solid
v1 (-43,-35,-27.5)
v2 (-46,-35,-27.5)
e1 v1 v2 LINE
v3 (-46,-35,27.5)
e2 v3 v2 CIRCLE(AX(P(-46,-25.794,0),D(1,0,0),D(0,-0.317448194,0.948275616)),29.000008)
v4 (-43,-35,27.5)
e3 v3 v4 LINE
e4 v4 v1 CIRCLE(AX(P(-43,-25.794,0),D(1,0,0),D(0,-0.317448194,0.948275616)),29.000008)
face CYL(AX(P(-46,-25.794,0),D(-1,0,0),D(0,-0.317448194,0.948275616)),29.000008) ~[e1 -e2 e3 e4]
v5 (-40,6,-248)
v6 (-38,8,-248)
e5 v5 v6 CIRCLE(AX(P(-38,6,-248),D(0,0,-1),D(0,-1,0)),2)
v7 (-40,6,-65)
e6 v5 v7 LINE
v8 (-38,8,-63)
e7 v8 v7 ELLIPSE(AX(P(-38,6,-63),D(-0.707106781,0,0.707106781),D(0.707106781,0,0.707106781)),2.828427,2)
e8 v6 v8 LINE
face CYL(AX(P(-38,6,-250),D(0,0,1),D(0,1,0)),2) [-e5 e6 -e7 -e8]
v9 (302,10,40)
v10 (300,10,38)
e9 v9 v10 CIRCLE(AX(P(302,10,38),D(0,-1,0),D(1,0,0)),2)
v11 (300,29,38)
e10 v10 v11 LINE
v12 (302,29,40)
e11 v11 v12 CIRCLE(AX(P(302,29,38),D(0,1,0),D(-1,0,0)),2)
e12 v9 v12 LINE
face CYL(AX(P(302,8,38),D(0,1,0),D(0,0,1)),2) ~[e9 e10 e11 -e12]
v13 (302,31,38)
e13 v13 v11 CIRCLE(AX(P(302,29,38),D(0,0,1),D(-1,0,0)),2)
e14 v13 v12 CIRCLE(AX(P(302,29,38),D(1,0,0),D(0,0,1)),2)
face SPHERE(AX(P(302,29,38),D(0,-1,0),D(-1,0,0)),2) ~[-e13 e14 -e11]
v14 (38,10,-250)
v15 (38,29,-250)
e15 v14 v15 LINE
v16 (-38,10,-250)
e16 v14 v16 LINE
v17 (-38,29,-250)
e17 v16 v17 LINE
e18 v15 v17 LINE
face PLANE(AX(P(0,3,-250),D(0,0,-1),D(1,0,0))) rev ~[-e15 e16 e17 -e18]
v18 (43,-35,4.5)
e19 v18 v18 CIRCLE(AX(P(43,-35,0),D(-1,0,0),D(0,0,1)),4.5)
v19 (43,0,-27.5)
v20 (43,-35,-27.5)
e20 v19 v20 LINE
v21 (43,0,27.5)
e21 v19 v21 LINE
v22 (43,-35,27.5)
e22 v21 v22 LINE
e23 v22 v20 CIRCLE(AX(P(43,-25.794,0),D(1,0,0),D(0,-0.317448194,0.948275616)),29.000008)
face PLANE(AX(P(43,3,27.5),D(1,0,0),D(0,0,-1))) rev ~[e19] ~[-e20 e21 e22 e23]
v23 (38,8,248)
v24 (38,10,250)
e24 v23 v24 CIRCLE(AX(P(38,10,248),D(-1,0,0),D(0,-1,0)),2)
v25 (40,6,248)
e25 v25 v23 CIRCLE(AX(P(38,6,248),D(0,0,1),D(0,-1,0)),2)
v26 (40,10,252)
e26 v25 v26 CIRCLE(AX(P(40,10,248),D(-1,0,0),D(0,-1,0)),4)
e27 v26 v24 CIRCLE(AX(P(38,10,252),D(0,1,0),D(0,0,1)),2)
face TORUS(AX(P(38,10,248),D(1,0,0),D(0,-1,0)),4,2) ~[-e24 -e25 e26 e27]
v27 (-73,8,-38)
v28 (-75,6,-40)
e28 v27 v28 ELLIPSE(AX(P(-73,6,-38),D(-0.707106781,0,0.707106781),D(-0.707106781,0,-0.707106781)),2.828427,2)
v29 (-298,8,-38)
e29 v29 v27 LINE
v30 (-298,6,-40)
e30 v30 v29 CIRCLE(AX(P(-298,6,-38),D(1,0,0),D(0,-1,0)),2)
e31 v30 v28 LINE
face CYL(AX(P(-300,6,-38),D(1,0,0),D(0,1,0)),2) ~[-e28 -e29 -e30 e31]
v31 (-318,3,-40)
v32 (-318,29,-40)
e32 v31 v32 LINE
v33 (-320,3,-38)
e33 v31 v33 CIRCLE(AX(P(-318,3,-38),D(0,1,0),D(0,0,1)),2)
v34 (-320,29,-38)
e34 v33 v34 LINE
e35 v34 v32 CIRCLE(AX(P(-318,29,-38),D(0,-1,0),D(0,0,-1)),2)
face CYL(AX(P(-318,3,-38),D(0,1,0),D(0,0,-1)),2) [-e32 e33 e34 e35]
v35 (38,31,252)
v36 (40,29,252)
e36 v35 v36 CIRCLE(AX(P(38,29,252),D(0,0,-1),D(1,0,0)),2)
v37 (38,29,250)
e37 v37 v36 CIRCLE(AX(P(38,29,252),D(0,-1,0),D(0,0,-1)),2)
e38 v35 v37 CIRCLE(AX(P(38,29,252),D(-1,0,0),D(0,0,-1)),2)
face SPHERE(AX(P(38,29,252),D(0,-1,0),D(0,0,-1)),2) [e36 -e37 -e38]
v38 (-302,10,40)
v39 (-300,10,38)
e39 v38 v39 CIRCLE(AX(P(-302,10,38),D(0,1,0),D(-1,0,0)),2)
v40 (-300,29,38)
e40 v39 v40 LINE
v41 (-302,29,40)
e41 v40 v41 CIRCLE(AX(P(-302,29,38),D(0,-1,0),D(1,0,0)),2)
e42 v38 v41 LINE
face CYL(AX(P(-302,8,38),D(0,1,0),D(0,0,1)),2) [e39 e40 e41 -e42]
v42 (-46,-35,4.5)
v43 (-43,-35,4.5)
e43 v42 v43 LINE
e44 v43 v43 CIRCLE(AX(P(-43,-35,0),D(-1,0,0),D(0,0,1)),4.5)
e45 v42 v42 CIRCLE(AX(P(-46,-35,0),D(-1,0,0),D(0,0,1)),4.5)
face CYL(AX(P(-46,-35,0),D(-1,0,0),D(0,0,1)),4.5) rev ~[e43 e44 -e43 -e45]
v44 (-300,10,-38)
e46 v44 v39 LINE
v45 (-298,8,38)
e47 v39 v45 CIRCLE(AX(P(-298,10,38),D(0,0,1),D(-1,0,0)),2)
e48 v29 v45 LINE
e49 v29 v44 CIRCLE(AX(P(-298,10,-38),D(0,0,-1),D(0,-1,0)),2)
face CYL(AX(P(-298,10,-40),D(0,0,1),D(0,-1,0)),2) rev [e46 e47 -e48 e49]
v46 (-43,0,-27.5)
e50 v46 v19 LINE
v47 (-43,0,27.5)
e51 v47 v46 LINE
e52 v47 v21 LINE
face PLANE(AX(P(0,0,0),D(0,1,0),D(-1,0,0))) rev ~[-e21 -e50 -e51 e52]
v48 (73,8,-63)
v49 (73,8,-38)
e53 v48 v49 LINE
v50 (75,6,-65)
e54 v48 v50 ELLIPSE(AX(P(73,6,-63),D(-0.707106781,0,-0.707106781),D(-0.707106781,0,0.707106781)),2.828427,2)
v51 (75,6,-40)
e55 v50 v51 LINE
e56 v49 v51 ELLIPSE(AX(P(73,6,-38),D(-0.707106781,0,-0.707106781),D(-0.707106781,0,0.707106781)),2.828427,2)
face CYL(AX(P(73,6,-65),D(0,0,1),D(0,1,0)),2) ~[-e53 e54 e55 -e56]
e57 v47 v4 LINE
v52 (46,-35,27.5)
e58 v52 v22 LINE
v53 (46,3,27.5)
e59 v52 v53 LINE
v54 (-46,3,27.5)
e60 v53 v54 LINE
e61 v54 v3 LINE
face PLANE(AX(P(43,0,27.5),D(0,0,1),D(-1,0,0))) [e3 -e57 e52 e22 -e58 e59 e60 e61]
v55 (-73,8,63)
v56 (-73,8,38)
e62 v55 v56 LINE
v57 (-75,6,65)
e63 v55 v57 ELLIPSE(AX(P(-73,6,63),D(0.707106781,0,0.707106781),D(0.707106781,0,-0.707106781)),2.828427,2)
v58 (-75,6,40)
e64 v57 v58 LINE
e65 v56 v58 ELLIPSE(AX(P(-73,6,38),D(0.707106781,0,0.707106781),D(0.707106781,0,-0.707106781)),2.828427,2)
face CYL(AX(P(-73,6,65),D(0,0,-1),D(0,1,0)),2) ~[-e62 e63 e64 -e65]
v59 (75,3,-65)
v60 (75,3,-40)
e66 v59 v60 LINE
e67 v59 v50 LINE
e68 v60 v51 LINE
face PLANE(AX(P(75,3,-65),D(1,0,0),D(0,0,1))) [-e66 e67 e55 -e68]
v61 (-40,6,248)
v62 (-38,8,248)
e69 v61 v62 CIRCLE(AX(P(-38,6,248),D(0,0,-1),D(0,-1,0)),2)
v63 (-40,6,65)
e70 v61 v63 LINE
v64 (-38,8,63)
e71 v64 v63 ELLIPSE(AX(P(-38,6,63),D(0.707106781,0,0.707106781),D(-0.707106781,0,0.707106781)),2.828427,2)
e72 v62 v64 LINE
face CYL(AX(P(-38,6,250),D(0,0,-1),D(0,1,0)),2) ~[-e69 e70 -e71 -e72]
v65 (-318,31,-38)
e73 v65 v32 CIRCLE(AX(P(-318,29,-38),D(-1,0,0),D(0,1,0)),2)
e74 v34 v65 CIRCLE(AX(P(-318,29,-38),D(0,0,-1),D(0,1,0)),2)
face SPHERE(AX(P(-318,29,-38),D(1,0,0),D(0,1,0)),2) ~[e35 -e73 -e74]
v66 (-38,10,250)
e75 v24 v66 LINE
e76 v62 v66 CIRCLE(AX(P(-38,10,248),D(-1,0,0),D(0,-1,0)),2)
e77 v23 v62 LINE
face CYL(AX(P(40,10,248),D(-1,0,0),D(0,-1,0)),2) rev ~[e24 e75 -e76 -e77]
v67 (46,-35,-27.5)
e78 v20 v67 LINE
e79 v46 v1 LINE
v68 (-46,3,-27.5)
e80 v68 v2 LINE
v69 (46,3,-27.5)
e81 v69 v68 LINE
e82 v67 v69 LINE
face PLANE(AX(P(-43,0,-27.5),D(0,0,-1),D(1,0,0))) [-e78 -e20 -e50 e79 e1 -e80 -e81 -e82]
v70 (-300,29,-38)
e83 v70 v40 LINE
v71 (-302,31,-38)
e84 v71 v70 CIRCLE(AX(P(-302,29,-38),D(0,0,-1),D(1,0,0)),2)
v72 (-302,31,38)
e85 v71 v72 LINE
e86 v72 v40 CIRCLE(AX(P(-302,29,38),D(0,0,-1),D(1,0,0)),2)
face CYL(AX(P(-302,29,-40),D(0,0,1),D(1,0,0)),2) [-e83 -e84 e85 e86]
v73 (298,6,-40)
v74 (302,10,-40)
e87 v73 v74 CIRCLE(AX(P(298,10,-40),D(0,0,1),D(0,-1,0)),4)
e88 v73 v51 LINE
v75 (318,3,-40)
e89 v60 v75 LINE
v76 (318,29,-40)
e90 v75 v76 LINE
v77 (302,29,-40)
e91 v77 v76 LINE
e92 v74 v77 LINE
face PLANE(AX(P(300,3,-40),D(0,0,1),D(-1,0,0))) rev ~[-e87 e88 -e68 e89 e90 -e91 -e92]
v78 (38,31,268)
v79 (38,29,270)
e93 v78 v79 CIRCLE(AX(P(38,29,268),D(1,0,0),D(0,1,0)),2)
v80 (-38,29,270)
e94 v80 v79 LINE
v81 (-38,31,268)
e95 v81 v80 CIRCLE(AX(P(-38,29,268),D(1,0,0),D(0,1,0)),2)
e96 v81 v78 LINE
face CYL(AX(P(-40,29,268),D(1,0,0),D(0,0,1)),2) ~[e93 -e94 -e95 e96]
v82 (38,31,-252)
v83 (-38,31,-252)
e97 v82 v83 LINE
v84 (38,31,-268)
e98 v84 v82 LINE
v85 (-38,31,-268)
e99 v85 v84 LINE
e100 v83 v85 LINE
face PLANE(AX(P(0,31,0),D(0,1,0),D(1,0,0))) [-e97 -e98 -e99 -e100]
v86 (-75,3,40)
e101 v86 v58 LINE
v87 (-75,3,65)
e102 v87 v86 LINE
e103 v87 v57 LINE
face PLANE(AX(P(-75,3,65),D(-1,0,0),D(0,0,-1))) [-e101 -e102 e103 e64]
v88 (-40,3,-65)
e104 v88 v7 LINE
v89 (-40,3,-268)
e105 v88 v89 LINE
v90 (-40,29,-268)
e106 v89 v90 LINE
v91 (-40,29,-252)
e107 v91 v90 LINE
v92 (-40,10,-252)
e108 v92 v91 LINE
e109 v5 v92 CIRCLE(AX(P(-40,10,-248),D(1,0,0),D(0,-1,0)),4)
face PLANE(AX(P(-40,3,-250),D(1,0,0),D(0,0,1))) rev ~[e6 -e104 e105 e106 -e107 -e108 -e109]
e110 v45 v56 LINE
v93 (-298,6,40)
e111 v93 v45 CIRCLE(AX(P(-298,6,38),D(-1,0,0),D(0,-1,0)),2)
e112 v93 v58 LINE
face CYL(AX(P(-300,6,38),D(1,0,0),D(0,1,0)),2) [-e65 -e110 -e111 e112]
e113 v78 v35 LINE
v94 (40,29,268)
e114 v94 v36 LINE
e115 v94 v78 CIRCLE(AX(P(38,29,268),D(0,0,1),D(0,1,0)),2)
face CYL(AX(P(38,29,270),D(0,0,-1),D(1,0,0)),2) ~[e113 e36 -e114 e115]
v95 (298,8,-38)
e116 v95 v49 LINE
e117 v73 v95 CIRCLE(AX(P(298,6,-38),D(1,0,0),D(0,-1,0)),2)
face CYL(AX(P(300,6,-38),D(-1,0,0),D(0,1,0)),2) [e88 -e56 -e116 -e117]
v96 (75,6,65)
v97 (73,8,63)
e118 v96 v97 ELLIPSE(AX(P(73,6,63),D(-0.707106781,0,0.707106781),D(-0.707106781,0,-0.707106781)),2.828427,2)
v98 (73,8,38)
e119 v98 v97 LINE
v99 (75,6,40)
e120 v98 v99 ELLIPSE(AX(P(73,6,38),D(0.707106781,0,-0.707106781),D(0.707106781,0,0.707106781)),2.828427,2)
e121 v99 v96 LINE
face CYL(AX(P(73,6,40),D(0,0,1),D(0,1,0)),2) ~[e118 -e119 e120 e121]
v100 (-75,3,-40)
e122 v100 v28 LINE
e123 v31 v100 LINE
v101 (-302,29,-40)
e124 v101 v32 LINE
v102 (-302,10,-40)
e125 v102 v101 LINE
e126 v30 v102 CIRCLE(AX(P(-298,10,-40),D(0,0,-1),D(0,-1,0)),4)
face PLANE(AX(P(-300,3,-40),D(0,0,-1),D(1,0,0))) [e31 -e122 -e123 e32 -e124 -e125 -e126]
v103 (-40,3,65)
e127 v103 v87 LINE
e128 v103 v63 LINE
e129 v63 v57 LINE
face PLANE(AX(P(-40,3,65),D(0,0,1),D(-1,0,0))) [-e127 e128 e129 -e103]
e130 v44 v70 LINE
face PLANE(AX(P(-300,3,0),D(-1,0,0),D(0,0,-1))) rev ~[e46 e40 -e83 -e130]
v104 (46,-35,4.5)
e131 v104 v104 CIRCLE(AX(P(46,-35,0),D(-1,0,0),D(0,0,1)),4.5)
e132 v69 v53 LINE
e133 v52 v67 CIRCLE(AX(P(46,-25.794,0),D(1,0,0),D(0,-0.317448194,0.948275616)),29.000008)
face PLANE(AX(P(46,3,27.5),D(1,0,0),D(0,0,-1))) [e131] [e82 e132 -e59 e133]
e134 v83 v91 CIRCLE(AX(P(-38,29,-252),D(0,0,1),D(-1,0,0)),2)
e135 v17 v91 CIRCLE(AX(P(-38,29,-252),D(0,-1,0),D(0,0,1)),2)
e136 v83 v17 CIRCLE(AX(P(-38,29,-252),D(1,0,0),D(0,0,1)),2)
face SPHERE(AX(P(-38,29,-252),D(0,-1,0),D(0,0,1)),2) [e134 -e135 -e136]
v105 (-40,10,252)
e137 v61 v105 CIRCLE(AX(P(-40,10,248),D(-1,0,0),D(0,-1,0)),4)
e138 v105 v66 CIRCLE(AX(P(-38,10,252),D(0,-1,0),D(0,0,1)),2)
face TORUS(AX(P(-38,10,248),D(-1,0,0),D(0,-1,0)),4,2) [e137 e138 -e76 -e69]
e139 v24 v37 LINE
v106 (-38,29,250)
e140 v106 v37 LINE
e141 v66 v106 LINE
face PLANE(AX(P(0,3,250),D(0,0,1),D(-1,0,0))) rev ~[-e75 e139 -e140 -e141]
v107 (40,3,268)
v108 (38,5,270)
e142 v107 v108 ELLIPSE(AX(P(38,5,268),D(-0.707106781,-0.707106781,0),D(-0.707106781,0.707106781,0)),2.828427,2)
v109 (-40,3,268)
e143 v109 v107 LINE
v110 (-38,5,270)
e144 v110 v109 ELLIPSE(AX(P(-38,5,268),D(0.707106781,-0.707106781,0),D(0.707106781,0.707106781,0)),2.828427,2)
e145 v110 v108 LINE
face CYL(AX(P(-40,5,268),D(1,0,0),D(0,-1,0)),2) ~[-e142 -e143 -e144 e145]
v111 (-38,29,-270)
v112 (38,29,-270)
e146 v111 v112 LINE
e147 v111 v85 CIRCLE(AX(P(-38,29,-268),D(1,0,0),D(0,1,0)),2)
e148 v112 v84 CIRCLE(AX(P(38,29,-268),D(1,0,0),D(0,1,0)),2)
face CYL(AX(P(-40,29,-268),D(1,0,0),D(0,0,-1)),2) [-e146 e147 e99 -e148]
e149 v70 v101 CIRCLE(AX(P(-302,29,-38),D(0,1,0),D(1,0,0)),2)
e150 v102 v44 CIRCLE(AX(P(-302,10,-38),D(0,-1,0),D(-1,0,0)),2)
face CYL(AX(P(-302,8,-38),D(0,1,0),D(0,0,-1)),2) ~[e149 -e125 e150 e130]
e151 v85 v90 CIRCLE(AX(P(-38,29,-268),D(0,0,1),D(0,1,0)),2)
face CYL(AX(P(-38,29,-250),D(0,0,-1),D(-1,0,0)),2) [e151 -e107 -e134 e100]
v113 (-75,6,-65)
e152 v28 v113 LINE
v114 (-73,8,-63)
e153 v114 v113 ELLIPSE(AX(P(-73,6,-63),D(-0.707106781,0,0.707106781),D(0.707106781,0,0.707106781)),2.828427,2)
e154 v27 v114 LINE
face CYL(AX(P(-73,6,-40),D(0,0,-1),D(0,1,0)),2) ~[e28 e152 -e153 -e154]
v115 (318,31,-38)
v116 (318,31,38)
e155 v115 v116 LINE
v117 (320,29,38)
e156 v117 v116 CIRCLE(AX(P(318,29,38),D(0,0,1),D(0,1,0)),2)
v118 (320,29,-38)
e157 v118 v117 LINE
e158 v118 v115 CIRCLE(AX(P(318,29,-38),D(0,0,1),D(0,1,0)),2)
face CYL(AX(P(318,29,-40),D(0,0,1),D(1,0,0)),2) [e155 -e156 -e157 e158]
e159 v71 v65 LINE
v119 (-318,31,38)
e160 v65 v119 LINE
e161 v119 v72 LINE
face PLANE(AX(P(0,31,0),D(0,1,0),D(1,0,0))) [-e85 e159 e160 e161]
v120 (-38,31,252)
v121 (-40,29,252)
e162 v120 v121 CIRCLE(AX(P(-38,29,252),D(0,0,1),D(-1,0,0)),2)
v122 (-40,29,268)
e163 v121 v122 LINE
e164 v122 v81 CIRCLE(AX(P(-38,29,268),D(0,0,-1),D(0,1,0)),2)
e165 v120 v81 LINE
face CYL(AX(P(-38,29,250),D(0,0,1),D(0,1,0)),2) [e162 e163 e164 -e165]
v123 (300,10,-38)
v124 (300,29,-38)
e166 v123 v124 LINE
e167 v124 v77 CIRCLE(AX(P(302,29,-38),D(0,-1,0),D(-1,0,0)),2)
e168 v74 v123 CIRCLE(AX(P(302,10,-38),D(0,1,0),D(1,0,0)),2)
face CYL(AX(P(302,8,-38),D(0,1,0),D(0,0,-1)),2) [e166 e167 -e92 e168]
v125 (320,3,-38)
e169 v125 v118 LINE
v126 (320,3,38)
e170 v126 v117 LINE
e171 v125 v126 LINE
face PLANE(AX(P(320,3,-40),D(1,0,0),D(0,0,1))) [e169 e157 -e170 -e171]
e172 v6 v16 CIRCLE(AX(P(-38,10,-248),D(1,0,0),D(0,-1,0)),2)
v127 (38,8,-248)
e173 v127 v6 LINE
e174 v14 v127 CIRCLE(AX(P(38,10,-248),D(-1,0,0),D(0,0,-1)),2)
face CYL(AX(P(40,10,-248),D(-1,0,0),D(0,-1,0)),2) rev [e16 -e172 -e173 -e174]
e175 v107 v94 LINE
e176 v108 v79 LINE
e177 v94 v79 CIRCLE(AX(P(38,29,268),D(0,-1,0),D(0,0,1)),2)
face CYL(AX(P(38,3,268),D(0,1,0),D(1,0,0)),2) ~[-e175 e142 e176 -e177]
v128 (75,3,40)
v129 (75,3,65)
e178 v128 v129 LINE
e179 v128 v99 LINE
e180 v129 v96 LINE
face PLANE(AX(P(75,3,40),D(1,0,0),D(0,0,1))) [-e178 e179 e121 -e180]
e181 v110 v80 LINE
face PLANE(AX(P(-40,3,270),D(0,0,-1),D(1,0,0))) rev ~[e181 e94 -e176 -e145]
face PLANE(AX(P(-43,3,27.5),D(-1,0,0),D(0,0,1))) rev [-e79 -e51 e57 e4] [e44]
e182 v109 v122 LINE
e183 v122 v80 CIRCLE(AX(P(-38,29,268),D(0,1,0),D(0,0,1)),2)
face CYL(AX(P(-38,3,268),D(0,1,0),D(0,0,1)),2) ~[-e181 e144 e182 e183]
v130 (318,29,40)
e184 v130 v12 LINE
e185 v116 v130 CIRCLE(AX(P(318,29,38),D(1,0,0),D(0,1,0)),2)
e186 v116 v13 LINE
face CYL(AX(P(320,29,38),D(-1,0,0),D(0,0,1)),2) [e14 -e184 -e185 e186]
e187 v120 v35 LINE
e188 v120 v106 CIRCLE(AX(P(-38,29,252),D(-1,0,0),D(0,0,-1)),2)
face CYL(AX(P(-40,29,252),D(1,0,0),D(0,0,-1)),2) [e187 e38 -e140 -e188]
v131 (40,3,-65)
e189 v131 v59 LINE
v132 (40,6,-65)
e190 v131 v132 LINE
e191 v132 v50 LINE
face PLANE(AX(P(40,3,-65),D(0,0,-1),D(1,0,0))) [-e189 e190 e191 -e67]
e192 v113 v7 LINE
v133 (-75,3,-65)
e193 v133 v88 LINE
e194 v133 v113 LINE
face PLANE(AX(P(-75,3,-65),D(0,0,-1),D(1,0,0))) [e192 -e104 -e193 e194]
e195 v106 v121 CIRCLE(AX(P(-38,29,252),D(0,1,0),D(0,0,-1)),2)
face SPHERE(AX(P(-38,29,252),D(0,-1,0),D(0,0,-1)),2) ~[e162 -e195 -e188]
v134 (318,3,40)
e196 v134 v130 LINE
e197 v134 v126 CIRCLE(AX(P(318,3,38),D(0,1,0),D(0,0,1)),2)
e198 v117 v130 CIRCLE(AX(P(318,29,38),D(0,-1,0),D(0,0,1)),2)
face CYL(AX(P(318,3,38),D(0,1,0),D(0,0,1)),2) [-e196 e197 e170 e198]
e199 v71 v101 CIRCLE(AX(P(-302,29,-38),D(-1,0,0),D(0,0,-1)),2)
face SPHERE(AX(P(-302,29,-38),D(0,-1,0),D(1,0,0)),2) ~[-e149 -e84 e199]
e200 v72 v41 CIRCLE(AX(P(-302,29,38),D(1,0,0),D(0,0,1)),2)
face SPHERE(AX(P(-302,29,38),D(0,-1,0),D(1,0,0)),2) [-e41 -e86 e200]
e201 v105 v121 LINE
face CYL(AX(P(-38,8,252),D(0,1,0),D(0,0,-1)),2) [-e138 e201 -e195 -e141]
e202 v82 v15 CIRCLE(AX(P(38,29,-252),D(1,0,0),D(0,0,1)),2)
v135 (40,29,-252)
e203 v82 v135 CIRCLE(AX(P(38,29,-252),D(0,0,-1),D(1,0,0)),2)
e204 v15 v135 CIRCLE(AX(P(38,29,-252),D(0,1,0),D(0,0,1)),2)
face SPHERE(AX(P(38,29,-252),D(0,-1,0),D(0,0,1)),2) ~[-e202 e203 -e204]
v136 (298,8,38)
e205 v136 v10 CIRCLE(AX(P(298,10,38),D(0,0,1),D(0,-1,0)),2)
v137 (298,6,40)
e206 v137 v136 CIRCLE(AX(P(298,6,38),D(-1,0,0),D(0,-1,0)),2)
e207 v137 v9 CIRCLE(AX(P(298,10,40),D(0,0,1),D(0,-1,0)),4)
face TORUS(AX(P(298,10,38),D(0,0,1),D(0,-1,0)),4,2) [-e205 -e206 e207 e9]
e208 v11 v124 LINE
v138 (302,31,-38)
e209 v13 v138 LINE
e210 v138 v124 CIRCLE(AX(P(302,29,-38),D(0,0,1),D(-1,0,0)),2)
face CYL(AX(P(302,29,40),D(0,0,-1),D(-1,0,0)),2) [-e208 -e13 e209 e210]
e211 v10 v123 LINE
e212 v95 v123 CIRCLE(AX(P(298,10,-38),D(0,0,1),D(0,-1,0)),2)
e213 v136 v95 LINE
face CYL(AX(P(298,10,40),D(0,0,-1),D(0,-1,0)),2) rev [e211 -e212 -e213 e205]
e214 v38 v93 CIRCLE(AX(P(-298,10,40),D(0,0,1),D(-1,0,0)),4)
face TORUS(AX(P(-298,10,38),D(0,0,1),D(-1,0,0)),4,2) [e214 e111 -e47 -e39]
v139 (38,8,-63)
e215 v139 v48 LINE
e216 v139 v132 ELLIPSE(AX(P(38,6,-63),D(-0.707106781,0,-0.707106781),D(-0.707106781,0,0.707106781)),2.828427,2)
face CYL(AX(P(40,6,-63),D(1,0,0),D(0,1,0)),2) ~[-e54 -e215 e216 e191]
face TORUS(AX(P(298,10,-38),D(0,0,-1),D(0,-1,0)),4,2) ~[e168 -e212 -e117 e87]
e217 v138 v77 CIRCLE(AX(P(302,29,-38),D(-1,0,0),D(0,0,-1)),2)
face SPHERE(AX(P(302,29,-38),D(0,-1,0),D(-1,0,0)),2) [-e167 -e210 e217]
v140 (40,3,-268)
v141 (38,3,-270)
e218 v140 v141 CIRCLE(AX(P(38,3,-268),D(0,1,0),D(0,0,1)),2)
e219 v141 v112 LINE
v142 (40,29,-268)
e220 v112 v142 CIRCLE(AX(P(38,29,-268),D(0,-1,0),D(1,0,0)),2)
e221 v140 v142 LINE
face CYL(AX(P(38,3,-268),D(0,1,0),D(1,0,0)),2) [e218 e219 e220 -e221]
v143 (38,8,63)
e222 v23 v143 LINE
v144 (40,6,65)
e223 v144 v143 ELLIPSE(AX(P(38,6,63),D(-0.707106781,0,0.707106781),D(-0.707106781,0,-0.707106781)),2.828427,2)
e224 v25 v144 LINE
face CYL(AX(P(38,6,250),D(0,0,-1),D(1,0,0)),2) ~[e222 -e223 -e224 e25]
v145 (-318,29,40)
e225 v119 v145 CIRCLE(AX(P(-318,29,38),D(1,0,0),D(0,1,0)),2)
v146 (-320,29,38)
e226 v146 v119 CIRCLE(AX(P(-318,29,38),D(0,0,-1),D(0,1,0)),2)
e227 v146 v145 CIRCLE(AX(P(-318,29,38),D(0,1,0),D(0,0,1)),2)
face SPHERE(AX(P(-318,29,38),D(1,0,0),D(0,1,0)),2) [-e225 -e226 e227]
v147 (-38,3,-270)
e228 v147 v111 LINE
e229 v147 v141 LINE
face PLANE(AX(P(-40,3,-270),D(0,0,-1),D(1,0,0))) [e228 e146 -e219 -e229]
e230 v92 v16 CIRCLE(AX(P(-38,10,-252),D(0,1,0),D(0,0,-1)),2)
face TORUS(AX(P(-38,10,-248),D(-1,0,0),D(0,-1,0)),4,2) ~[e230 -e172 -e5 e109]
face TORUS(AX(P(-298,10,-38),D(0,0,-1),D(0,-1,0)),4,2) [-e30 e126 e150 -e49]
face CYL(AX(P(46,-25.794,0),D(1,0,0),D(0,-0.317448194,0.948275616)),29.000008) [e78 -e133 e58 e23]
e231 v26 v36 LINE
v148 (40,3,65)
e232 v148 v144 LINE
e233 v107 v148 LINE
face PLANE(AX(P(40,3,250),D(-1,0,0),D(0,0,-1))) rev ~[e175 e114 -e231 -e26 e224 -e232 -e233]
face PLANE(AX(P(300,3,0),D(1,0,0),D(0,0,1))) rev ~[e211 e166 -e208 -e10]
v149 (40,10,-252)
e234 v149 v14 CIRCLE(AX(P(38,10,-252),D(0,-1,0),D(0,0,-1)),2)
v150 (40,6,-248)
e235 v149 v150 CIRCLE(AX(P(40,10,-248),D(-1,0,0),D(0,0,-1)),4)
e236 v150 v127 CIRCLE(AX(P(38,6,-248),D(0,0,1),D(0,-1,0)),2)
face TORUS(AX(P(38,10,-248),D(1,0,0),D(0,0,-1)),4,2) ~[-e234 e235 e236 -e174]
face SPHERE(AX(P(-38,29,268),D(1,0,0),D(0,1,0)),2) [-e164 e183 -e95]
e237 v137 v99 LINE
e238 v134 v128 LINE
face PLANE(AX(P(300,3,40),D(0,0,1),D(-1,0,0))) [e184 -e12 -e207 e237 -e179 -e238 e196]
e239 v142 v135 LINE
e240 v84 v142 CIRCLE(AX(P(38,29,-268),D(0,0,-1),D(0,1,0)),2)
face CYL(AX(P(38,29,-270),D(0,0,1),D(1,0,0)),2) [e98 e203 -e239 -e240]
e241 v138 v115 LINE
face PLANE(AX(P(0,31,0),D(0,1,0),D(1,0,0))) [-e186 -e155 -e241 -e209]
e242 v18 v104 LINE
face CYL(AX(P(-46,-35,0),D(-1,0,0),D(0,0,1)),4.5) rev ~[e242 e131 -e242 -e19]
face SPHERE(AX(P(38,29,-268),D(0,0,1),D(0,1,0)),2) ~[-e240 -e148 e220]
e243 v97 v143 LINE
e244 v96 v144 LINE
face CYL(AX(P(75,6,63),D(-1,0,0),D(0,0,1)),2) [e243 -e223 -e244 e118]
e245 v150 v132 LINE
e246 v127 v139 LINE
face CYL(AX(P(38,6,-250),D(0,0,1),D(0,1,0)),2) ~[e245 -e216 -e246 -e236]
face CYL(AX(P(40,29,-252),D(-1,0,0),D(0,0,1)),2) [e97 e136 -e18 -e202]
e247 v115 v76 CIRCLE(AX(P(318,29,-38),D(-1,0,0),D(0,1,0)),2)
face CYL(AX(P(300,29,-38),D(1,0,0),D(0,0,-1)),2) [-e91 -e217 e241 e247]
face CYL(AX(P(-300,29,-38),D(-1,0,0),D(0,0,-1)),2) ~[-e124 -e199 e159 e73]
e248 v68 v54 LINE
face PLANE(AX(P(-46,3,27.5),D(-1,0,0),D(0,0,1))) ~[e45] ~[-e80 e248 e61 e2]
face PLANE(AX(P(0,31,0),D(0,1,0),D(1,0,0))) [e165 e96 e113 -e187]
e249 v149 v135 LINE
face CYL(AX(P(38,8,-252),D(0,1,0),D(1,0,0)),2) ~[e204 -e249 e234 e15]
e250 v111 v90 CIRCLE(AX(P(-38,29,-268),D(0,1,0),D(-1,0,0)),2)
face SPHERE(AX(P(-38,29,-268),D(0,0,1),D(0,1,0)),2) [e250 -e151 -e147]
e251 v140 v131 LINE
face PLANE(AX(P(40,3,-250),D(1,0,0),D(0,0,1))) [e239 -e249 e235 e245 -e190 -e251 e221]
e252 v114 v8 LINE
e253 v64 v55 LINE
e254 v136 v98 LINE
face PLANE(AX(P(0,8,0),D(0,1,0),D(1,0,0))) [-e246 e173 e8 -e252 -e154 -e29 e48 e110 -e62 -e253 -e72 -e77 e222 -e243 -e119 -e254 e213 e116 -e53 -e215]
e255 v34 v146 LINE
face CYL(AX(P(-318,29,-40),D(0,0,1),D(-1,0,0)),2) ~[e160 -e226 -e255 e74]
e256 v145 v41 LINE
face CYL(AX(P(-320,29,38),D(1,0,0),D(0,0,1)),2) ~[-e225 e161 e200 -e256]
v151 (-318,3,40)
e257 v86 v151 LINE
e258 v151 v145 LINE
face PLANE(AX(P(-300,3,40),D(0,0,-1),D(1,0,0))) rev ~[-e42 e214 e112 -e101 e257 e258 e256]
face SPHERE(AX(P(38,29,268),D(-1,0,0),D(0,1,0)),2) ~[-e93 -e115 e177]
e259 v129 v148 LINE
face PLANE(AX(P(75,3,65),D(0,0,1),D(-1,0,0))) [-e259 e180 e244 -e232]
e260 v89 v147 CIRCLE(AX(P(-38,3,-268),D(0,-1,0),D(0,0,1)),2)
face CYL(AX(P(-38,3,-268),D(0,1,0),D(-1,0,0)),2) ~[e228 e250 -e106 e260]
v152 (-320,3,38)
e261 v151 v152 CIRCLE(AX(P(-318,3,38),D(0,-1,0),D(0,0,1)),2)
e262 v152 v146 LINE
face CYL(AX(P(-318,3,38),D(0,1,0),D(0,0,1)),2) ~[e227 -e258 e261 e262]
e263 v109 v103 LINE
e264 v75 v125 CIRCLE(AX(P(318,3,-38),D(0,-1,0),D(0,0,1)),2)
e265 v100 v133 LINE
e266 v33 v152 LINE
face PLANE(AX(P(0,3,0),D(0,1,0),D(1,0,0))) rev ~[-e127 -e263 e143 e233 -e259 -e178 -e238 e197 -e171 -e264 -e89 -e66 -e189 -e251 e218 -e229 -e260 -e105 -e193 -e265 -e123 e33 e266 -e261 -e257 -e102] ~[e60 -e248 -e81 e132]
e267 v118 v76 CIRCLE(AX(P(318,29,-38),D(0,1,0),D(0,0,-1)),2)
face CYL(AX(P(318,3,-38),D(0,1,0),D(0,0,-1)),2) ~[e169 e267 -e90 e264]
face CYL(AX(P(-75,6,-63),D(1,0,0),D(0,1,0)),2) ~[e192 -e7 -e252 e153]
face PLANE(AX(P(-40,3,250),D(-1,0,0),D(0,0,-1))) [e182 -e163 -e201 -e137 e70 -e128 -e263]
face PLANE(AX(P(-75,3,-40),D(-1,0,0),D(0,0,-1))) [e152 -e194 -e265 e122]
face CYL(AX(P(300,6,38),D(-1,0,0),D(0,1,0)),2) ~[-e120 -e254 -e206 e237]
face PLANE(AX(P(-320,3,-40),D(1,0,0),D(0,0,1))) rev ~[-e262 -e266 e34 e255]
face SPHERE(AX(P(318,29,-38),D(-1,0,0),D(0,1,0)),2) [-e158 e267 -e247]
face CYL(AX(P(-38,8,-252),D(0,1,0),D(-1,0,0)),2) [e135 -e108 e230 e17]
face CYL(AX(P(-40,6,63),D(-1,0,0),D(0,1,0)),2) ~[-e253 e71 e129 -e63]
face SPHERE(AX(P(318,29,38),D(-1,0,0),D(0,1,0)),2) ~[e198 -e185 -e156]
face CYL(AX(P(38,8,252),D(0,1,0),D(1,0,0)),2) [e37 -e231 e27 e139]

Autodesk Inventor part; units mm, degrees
ref_plane "YZ Plane" through (0, 0, 0) normal (1, 0, 0) x (0, 1, 0)
ref_plane "XZ Plane" through (0, 0, 0) normal (0, 1, 0) x (-1, 0, 0)
ref_plane "XY Plane" through (0, 0, 0) normal (0, 0, 1) x (1, 0, 0)
sketch "Sketch1" plane through (0, 0, 0) normal (0, 1, 0) x (-1, 0, 0)
  line L0 (-43, 27.5) -> (43, 27.5)
  line L1 (43, 27.5) -> (43, -27.5)
  line L2 (43, -27.5) -> (-43, -27.5)
  line L3 (-43, -27.5) -> (-43, 27.5)
  line L4 (-43, 27.5) -> (43, -27.5) construction
  line L5 (43, 27.5) -> (-43, -27.5) construction
  line L6 (43, -27.5) -> (46, -27.5)
  line L7 (46, -27.5) -> (46, 27.5)
  line L8 (46, 27.5) -> (43, 27.5)
  line L9 (43, 27.5) -> (43, -27.5)
  line L10 (-43, -27.5) -> (-46, -27.5)
  line L11 (-46, -27.5) -> (-46, 27.5)
  line L12 (-46, 27.5) -> (-43, 27.5)
  line L13 (-43, 27.5) -> (-43, -27.5)
  point P0 (0, 0)
  dimension "d0" = 86
  dimension "d1" = 55
  dimension "d2" = 3
  dimension "d3" = 55
  dimension "d4" = 3
extrude "Extrusion1" add sketch "Sketch1" along normal blind 3 contours L0 L1 L2 L3
extrude "Extrusion2" add sketch "Sketch1" along normal blind 3 contours L3 L10 L11 L12 | L8 L7 L6 L1
extrude "Extrusion3" add sketch "Sketch1" against normal blind 35 contours L3 L10 L11 L12 | L8 L7 L6 L1
sketch "Sketch2" plane through (46, 3, 27.5) normal (1, 0, 0) x (0, 0, -1)
  line L0 (0, -3) -> (0, -38) projected
  line L1 (0, -38) -> (55, -38) projected
  arc A0 (0, -38) -> (55, -38) centre (27.5, -28.794) ccw
  point P0 (27.5, -3)
  dimension "d11" = 29
extrude "Extrusion4" add sketch "Sketch2" against normal up to surface (3 mm away)
mirror "Mirror1" about plane through (0, 0, 0) normal (1, 0, 0) of "Extrusion4"
sketch "Sketch3" plane through (-46, 3, -27.5) normal (-1, 0, 0) x (0, 0, 1)
  circle A0 centre (27.5, -38) radius 4.5
  point P0 (27.5, -3)
  point P1 (0, -38)
  dimension "d14" = 9
extrude "Extrusion5" cut sketch "Sketch3" against normal blind 106.25
sketch "Sketch4" plane through (0, 3, 0) normal (0, 1, 0) x (1, 0, 0)
  line L0 (300, -250) -> (-300, -250)
  line L1 (-300, -250) -> (-300, 250)
  line L2 (-300, 250) -> (300, 250)
  line L3 (300, 250) -> (300, -250)
  line L4 (300, -250) -> (-300, 250) construction
  line L5 (-300, -250) -> (300, 250) construction
  line L6 (75, -65) -> (-75, -65)
  line L7 (-75, -65) -> (-75, 65)
  line L8 (-75, 65) -> (75, 65)
  line L9 (75, 65) -> (75, -65)
  line L10 (75, -65) -> (-75, 65) construction
  line L11 (-75, -65) -> (75, 65) construction
  line L12 (0, 250) -> (-40, 250)
  line L13 (-40, 250) -> (-40, 65)
  line L14 (0, 250) -> (40, 250)
  line L15 (40, 250) -> (40, 65)
  line L16 (300, 0) -> (300, 40)
  line L17 (300, 40) -> (75, 40)
  line L18 (300, 0) -> (300, -40)
  line L19 (300, -40) -> (75, -40)
  line L20 (0, -250) -> (-40, -250)
  line L21 (-40, -250) -> (-40, -65)
  line L22 (0, -250) -> (40, -250)
  line L23 (40, -250) -> (40, -65)
  line L24 (-300, 0) -> (-300, -40)
  line L25 (-300, -40) -> (-75, -40)
  line L26 (-300, 0) -> (-300, 40)
  line L27 (-300, 40) -> (-75, 40)
  line L28 (300, 40) -> (320, 40)
  line L29 (320, 40) -> (320, -40)
  line L30 (320, -40) -> (300, -40)
  line L31 (-300, 40) -> (-320, 40)
  line L32 (-320, 40) -> (-320, -40)
  line L33 (-320, -40) -> (-300, -40)
  line L34 (-40, 250) -> (-40, 270)
  line L35 (-40, 270) -> (40, 270)
  line L36 (40, 270) -> (40, 250)
  line L37 (-40, -250) -> (-40, -270)
  line L38 (-40, -270) -> (40, -270)
  line L39 (40, -270) -> (40, -250)
  point P0 (0, 0)
  dimension "d17" = 600
  dimension "d18" = 500
  dimension "d19" = 150
  dimension "d20" = 130
  dimension "d21" = 40
  dimension "d22" = 40
  dimension "d23" = 40
  dimension "d24" = 40
  dimension "d25" = 40
  dimension "d26" = 40
  dimension "d27" = 40
  dimension "d28" = 20
  dimension "d29" = 20
  dimension "d30" = 20
  dimension "d31" = 20
extrude "Extrusion6" add sketch "Sketch4" along normal blind 5 contours L0 L21 L6 L23 | L19 L9 L17 L3 | L6 L7 L8 L9 | L1 L27 L7 L25 | L15 L8 L13 L2
extrude "Extrusion7" add sketch "Sketch4" along normal blind 28 contours L39 L38 L37 L0 | L3 L28 L29 L30 | L33 L32 L31 L1 | L2 L34 L35 L36
fillet "Fillet1" radius 2 53 edges at (-40, 8, -157.5) (-40, 19.5, -250) (40, 19.5, -250) (40, 8, -157.5) (-57.5, 8, -65) (-75, 8, -52.5) (-187.5, 8, -40) (-300, 19.5, -40) (-300, 19.5, 40) (-187.5, 8, 40) (-75, 8, 52.5) (-57.5, 8, 65) (-40, 8, 157.5) (187.5, 8, -40) (75, 8, -52.5) (57.5, 8, -65) (40, 8, 157.5) (57.5, 8, 65) (75, 8, 52.5) (187.5, 8, 40) (300, 19.5, 40) (300, 19.5, -40) (-40, 19.5, 250) (40, 19.5, 250) (-300, 31, 0) (0, 31, -250) (300, 31, 0) (0, 31, 250) (0, 31, 270) (-40, 31, 260) (-310, 31, 40) (-310, 31, -40) (40, 31, 260) (310, 31, 40) (310, 31, -40) (320, 31, 0) (-40, 31, -260) (40, 31, -260) (0, 31, -270) (-320, 31, 0) (-320, 17, 40) (-40, 17, -270) (40, 17, -270) (-320, 17, -40) (320, 17, -40) (320, 17, 40) (-40, 17, 270) (40, 17, 270) (0, 3, 270) (300, 8, 0) (0, 8, 250) (0, 8, -250) (-300, 8, 0)
properties part number "atassolar" material "Aluminum 6061"
